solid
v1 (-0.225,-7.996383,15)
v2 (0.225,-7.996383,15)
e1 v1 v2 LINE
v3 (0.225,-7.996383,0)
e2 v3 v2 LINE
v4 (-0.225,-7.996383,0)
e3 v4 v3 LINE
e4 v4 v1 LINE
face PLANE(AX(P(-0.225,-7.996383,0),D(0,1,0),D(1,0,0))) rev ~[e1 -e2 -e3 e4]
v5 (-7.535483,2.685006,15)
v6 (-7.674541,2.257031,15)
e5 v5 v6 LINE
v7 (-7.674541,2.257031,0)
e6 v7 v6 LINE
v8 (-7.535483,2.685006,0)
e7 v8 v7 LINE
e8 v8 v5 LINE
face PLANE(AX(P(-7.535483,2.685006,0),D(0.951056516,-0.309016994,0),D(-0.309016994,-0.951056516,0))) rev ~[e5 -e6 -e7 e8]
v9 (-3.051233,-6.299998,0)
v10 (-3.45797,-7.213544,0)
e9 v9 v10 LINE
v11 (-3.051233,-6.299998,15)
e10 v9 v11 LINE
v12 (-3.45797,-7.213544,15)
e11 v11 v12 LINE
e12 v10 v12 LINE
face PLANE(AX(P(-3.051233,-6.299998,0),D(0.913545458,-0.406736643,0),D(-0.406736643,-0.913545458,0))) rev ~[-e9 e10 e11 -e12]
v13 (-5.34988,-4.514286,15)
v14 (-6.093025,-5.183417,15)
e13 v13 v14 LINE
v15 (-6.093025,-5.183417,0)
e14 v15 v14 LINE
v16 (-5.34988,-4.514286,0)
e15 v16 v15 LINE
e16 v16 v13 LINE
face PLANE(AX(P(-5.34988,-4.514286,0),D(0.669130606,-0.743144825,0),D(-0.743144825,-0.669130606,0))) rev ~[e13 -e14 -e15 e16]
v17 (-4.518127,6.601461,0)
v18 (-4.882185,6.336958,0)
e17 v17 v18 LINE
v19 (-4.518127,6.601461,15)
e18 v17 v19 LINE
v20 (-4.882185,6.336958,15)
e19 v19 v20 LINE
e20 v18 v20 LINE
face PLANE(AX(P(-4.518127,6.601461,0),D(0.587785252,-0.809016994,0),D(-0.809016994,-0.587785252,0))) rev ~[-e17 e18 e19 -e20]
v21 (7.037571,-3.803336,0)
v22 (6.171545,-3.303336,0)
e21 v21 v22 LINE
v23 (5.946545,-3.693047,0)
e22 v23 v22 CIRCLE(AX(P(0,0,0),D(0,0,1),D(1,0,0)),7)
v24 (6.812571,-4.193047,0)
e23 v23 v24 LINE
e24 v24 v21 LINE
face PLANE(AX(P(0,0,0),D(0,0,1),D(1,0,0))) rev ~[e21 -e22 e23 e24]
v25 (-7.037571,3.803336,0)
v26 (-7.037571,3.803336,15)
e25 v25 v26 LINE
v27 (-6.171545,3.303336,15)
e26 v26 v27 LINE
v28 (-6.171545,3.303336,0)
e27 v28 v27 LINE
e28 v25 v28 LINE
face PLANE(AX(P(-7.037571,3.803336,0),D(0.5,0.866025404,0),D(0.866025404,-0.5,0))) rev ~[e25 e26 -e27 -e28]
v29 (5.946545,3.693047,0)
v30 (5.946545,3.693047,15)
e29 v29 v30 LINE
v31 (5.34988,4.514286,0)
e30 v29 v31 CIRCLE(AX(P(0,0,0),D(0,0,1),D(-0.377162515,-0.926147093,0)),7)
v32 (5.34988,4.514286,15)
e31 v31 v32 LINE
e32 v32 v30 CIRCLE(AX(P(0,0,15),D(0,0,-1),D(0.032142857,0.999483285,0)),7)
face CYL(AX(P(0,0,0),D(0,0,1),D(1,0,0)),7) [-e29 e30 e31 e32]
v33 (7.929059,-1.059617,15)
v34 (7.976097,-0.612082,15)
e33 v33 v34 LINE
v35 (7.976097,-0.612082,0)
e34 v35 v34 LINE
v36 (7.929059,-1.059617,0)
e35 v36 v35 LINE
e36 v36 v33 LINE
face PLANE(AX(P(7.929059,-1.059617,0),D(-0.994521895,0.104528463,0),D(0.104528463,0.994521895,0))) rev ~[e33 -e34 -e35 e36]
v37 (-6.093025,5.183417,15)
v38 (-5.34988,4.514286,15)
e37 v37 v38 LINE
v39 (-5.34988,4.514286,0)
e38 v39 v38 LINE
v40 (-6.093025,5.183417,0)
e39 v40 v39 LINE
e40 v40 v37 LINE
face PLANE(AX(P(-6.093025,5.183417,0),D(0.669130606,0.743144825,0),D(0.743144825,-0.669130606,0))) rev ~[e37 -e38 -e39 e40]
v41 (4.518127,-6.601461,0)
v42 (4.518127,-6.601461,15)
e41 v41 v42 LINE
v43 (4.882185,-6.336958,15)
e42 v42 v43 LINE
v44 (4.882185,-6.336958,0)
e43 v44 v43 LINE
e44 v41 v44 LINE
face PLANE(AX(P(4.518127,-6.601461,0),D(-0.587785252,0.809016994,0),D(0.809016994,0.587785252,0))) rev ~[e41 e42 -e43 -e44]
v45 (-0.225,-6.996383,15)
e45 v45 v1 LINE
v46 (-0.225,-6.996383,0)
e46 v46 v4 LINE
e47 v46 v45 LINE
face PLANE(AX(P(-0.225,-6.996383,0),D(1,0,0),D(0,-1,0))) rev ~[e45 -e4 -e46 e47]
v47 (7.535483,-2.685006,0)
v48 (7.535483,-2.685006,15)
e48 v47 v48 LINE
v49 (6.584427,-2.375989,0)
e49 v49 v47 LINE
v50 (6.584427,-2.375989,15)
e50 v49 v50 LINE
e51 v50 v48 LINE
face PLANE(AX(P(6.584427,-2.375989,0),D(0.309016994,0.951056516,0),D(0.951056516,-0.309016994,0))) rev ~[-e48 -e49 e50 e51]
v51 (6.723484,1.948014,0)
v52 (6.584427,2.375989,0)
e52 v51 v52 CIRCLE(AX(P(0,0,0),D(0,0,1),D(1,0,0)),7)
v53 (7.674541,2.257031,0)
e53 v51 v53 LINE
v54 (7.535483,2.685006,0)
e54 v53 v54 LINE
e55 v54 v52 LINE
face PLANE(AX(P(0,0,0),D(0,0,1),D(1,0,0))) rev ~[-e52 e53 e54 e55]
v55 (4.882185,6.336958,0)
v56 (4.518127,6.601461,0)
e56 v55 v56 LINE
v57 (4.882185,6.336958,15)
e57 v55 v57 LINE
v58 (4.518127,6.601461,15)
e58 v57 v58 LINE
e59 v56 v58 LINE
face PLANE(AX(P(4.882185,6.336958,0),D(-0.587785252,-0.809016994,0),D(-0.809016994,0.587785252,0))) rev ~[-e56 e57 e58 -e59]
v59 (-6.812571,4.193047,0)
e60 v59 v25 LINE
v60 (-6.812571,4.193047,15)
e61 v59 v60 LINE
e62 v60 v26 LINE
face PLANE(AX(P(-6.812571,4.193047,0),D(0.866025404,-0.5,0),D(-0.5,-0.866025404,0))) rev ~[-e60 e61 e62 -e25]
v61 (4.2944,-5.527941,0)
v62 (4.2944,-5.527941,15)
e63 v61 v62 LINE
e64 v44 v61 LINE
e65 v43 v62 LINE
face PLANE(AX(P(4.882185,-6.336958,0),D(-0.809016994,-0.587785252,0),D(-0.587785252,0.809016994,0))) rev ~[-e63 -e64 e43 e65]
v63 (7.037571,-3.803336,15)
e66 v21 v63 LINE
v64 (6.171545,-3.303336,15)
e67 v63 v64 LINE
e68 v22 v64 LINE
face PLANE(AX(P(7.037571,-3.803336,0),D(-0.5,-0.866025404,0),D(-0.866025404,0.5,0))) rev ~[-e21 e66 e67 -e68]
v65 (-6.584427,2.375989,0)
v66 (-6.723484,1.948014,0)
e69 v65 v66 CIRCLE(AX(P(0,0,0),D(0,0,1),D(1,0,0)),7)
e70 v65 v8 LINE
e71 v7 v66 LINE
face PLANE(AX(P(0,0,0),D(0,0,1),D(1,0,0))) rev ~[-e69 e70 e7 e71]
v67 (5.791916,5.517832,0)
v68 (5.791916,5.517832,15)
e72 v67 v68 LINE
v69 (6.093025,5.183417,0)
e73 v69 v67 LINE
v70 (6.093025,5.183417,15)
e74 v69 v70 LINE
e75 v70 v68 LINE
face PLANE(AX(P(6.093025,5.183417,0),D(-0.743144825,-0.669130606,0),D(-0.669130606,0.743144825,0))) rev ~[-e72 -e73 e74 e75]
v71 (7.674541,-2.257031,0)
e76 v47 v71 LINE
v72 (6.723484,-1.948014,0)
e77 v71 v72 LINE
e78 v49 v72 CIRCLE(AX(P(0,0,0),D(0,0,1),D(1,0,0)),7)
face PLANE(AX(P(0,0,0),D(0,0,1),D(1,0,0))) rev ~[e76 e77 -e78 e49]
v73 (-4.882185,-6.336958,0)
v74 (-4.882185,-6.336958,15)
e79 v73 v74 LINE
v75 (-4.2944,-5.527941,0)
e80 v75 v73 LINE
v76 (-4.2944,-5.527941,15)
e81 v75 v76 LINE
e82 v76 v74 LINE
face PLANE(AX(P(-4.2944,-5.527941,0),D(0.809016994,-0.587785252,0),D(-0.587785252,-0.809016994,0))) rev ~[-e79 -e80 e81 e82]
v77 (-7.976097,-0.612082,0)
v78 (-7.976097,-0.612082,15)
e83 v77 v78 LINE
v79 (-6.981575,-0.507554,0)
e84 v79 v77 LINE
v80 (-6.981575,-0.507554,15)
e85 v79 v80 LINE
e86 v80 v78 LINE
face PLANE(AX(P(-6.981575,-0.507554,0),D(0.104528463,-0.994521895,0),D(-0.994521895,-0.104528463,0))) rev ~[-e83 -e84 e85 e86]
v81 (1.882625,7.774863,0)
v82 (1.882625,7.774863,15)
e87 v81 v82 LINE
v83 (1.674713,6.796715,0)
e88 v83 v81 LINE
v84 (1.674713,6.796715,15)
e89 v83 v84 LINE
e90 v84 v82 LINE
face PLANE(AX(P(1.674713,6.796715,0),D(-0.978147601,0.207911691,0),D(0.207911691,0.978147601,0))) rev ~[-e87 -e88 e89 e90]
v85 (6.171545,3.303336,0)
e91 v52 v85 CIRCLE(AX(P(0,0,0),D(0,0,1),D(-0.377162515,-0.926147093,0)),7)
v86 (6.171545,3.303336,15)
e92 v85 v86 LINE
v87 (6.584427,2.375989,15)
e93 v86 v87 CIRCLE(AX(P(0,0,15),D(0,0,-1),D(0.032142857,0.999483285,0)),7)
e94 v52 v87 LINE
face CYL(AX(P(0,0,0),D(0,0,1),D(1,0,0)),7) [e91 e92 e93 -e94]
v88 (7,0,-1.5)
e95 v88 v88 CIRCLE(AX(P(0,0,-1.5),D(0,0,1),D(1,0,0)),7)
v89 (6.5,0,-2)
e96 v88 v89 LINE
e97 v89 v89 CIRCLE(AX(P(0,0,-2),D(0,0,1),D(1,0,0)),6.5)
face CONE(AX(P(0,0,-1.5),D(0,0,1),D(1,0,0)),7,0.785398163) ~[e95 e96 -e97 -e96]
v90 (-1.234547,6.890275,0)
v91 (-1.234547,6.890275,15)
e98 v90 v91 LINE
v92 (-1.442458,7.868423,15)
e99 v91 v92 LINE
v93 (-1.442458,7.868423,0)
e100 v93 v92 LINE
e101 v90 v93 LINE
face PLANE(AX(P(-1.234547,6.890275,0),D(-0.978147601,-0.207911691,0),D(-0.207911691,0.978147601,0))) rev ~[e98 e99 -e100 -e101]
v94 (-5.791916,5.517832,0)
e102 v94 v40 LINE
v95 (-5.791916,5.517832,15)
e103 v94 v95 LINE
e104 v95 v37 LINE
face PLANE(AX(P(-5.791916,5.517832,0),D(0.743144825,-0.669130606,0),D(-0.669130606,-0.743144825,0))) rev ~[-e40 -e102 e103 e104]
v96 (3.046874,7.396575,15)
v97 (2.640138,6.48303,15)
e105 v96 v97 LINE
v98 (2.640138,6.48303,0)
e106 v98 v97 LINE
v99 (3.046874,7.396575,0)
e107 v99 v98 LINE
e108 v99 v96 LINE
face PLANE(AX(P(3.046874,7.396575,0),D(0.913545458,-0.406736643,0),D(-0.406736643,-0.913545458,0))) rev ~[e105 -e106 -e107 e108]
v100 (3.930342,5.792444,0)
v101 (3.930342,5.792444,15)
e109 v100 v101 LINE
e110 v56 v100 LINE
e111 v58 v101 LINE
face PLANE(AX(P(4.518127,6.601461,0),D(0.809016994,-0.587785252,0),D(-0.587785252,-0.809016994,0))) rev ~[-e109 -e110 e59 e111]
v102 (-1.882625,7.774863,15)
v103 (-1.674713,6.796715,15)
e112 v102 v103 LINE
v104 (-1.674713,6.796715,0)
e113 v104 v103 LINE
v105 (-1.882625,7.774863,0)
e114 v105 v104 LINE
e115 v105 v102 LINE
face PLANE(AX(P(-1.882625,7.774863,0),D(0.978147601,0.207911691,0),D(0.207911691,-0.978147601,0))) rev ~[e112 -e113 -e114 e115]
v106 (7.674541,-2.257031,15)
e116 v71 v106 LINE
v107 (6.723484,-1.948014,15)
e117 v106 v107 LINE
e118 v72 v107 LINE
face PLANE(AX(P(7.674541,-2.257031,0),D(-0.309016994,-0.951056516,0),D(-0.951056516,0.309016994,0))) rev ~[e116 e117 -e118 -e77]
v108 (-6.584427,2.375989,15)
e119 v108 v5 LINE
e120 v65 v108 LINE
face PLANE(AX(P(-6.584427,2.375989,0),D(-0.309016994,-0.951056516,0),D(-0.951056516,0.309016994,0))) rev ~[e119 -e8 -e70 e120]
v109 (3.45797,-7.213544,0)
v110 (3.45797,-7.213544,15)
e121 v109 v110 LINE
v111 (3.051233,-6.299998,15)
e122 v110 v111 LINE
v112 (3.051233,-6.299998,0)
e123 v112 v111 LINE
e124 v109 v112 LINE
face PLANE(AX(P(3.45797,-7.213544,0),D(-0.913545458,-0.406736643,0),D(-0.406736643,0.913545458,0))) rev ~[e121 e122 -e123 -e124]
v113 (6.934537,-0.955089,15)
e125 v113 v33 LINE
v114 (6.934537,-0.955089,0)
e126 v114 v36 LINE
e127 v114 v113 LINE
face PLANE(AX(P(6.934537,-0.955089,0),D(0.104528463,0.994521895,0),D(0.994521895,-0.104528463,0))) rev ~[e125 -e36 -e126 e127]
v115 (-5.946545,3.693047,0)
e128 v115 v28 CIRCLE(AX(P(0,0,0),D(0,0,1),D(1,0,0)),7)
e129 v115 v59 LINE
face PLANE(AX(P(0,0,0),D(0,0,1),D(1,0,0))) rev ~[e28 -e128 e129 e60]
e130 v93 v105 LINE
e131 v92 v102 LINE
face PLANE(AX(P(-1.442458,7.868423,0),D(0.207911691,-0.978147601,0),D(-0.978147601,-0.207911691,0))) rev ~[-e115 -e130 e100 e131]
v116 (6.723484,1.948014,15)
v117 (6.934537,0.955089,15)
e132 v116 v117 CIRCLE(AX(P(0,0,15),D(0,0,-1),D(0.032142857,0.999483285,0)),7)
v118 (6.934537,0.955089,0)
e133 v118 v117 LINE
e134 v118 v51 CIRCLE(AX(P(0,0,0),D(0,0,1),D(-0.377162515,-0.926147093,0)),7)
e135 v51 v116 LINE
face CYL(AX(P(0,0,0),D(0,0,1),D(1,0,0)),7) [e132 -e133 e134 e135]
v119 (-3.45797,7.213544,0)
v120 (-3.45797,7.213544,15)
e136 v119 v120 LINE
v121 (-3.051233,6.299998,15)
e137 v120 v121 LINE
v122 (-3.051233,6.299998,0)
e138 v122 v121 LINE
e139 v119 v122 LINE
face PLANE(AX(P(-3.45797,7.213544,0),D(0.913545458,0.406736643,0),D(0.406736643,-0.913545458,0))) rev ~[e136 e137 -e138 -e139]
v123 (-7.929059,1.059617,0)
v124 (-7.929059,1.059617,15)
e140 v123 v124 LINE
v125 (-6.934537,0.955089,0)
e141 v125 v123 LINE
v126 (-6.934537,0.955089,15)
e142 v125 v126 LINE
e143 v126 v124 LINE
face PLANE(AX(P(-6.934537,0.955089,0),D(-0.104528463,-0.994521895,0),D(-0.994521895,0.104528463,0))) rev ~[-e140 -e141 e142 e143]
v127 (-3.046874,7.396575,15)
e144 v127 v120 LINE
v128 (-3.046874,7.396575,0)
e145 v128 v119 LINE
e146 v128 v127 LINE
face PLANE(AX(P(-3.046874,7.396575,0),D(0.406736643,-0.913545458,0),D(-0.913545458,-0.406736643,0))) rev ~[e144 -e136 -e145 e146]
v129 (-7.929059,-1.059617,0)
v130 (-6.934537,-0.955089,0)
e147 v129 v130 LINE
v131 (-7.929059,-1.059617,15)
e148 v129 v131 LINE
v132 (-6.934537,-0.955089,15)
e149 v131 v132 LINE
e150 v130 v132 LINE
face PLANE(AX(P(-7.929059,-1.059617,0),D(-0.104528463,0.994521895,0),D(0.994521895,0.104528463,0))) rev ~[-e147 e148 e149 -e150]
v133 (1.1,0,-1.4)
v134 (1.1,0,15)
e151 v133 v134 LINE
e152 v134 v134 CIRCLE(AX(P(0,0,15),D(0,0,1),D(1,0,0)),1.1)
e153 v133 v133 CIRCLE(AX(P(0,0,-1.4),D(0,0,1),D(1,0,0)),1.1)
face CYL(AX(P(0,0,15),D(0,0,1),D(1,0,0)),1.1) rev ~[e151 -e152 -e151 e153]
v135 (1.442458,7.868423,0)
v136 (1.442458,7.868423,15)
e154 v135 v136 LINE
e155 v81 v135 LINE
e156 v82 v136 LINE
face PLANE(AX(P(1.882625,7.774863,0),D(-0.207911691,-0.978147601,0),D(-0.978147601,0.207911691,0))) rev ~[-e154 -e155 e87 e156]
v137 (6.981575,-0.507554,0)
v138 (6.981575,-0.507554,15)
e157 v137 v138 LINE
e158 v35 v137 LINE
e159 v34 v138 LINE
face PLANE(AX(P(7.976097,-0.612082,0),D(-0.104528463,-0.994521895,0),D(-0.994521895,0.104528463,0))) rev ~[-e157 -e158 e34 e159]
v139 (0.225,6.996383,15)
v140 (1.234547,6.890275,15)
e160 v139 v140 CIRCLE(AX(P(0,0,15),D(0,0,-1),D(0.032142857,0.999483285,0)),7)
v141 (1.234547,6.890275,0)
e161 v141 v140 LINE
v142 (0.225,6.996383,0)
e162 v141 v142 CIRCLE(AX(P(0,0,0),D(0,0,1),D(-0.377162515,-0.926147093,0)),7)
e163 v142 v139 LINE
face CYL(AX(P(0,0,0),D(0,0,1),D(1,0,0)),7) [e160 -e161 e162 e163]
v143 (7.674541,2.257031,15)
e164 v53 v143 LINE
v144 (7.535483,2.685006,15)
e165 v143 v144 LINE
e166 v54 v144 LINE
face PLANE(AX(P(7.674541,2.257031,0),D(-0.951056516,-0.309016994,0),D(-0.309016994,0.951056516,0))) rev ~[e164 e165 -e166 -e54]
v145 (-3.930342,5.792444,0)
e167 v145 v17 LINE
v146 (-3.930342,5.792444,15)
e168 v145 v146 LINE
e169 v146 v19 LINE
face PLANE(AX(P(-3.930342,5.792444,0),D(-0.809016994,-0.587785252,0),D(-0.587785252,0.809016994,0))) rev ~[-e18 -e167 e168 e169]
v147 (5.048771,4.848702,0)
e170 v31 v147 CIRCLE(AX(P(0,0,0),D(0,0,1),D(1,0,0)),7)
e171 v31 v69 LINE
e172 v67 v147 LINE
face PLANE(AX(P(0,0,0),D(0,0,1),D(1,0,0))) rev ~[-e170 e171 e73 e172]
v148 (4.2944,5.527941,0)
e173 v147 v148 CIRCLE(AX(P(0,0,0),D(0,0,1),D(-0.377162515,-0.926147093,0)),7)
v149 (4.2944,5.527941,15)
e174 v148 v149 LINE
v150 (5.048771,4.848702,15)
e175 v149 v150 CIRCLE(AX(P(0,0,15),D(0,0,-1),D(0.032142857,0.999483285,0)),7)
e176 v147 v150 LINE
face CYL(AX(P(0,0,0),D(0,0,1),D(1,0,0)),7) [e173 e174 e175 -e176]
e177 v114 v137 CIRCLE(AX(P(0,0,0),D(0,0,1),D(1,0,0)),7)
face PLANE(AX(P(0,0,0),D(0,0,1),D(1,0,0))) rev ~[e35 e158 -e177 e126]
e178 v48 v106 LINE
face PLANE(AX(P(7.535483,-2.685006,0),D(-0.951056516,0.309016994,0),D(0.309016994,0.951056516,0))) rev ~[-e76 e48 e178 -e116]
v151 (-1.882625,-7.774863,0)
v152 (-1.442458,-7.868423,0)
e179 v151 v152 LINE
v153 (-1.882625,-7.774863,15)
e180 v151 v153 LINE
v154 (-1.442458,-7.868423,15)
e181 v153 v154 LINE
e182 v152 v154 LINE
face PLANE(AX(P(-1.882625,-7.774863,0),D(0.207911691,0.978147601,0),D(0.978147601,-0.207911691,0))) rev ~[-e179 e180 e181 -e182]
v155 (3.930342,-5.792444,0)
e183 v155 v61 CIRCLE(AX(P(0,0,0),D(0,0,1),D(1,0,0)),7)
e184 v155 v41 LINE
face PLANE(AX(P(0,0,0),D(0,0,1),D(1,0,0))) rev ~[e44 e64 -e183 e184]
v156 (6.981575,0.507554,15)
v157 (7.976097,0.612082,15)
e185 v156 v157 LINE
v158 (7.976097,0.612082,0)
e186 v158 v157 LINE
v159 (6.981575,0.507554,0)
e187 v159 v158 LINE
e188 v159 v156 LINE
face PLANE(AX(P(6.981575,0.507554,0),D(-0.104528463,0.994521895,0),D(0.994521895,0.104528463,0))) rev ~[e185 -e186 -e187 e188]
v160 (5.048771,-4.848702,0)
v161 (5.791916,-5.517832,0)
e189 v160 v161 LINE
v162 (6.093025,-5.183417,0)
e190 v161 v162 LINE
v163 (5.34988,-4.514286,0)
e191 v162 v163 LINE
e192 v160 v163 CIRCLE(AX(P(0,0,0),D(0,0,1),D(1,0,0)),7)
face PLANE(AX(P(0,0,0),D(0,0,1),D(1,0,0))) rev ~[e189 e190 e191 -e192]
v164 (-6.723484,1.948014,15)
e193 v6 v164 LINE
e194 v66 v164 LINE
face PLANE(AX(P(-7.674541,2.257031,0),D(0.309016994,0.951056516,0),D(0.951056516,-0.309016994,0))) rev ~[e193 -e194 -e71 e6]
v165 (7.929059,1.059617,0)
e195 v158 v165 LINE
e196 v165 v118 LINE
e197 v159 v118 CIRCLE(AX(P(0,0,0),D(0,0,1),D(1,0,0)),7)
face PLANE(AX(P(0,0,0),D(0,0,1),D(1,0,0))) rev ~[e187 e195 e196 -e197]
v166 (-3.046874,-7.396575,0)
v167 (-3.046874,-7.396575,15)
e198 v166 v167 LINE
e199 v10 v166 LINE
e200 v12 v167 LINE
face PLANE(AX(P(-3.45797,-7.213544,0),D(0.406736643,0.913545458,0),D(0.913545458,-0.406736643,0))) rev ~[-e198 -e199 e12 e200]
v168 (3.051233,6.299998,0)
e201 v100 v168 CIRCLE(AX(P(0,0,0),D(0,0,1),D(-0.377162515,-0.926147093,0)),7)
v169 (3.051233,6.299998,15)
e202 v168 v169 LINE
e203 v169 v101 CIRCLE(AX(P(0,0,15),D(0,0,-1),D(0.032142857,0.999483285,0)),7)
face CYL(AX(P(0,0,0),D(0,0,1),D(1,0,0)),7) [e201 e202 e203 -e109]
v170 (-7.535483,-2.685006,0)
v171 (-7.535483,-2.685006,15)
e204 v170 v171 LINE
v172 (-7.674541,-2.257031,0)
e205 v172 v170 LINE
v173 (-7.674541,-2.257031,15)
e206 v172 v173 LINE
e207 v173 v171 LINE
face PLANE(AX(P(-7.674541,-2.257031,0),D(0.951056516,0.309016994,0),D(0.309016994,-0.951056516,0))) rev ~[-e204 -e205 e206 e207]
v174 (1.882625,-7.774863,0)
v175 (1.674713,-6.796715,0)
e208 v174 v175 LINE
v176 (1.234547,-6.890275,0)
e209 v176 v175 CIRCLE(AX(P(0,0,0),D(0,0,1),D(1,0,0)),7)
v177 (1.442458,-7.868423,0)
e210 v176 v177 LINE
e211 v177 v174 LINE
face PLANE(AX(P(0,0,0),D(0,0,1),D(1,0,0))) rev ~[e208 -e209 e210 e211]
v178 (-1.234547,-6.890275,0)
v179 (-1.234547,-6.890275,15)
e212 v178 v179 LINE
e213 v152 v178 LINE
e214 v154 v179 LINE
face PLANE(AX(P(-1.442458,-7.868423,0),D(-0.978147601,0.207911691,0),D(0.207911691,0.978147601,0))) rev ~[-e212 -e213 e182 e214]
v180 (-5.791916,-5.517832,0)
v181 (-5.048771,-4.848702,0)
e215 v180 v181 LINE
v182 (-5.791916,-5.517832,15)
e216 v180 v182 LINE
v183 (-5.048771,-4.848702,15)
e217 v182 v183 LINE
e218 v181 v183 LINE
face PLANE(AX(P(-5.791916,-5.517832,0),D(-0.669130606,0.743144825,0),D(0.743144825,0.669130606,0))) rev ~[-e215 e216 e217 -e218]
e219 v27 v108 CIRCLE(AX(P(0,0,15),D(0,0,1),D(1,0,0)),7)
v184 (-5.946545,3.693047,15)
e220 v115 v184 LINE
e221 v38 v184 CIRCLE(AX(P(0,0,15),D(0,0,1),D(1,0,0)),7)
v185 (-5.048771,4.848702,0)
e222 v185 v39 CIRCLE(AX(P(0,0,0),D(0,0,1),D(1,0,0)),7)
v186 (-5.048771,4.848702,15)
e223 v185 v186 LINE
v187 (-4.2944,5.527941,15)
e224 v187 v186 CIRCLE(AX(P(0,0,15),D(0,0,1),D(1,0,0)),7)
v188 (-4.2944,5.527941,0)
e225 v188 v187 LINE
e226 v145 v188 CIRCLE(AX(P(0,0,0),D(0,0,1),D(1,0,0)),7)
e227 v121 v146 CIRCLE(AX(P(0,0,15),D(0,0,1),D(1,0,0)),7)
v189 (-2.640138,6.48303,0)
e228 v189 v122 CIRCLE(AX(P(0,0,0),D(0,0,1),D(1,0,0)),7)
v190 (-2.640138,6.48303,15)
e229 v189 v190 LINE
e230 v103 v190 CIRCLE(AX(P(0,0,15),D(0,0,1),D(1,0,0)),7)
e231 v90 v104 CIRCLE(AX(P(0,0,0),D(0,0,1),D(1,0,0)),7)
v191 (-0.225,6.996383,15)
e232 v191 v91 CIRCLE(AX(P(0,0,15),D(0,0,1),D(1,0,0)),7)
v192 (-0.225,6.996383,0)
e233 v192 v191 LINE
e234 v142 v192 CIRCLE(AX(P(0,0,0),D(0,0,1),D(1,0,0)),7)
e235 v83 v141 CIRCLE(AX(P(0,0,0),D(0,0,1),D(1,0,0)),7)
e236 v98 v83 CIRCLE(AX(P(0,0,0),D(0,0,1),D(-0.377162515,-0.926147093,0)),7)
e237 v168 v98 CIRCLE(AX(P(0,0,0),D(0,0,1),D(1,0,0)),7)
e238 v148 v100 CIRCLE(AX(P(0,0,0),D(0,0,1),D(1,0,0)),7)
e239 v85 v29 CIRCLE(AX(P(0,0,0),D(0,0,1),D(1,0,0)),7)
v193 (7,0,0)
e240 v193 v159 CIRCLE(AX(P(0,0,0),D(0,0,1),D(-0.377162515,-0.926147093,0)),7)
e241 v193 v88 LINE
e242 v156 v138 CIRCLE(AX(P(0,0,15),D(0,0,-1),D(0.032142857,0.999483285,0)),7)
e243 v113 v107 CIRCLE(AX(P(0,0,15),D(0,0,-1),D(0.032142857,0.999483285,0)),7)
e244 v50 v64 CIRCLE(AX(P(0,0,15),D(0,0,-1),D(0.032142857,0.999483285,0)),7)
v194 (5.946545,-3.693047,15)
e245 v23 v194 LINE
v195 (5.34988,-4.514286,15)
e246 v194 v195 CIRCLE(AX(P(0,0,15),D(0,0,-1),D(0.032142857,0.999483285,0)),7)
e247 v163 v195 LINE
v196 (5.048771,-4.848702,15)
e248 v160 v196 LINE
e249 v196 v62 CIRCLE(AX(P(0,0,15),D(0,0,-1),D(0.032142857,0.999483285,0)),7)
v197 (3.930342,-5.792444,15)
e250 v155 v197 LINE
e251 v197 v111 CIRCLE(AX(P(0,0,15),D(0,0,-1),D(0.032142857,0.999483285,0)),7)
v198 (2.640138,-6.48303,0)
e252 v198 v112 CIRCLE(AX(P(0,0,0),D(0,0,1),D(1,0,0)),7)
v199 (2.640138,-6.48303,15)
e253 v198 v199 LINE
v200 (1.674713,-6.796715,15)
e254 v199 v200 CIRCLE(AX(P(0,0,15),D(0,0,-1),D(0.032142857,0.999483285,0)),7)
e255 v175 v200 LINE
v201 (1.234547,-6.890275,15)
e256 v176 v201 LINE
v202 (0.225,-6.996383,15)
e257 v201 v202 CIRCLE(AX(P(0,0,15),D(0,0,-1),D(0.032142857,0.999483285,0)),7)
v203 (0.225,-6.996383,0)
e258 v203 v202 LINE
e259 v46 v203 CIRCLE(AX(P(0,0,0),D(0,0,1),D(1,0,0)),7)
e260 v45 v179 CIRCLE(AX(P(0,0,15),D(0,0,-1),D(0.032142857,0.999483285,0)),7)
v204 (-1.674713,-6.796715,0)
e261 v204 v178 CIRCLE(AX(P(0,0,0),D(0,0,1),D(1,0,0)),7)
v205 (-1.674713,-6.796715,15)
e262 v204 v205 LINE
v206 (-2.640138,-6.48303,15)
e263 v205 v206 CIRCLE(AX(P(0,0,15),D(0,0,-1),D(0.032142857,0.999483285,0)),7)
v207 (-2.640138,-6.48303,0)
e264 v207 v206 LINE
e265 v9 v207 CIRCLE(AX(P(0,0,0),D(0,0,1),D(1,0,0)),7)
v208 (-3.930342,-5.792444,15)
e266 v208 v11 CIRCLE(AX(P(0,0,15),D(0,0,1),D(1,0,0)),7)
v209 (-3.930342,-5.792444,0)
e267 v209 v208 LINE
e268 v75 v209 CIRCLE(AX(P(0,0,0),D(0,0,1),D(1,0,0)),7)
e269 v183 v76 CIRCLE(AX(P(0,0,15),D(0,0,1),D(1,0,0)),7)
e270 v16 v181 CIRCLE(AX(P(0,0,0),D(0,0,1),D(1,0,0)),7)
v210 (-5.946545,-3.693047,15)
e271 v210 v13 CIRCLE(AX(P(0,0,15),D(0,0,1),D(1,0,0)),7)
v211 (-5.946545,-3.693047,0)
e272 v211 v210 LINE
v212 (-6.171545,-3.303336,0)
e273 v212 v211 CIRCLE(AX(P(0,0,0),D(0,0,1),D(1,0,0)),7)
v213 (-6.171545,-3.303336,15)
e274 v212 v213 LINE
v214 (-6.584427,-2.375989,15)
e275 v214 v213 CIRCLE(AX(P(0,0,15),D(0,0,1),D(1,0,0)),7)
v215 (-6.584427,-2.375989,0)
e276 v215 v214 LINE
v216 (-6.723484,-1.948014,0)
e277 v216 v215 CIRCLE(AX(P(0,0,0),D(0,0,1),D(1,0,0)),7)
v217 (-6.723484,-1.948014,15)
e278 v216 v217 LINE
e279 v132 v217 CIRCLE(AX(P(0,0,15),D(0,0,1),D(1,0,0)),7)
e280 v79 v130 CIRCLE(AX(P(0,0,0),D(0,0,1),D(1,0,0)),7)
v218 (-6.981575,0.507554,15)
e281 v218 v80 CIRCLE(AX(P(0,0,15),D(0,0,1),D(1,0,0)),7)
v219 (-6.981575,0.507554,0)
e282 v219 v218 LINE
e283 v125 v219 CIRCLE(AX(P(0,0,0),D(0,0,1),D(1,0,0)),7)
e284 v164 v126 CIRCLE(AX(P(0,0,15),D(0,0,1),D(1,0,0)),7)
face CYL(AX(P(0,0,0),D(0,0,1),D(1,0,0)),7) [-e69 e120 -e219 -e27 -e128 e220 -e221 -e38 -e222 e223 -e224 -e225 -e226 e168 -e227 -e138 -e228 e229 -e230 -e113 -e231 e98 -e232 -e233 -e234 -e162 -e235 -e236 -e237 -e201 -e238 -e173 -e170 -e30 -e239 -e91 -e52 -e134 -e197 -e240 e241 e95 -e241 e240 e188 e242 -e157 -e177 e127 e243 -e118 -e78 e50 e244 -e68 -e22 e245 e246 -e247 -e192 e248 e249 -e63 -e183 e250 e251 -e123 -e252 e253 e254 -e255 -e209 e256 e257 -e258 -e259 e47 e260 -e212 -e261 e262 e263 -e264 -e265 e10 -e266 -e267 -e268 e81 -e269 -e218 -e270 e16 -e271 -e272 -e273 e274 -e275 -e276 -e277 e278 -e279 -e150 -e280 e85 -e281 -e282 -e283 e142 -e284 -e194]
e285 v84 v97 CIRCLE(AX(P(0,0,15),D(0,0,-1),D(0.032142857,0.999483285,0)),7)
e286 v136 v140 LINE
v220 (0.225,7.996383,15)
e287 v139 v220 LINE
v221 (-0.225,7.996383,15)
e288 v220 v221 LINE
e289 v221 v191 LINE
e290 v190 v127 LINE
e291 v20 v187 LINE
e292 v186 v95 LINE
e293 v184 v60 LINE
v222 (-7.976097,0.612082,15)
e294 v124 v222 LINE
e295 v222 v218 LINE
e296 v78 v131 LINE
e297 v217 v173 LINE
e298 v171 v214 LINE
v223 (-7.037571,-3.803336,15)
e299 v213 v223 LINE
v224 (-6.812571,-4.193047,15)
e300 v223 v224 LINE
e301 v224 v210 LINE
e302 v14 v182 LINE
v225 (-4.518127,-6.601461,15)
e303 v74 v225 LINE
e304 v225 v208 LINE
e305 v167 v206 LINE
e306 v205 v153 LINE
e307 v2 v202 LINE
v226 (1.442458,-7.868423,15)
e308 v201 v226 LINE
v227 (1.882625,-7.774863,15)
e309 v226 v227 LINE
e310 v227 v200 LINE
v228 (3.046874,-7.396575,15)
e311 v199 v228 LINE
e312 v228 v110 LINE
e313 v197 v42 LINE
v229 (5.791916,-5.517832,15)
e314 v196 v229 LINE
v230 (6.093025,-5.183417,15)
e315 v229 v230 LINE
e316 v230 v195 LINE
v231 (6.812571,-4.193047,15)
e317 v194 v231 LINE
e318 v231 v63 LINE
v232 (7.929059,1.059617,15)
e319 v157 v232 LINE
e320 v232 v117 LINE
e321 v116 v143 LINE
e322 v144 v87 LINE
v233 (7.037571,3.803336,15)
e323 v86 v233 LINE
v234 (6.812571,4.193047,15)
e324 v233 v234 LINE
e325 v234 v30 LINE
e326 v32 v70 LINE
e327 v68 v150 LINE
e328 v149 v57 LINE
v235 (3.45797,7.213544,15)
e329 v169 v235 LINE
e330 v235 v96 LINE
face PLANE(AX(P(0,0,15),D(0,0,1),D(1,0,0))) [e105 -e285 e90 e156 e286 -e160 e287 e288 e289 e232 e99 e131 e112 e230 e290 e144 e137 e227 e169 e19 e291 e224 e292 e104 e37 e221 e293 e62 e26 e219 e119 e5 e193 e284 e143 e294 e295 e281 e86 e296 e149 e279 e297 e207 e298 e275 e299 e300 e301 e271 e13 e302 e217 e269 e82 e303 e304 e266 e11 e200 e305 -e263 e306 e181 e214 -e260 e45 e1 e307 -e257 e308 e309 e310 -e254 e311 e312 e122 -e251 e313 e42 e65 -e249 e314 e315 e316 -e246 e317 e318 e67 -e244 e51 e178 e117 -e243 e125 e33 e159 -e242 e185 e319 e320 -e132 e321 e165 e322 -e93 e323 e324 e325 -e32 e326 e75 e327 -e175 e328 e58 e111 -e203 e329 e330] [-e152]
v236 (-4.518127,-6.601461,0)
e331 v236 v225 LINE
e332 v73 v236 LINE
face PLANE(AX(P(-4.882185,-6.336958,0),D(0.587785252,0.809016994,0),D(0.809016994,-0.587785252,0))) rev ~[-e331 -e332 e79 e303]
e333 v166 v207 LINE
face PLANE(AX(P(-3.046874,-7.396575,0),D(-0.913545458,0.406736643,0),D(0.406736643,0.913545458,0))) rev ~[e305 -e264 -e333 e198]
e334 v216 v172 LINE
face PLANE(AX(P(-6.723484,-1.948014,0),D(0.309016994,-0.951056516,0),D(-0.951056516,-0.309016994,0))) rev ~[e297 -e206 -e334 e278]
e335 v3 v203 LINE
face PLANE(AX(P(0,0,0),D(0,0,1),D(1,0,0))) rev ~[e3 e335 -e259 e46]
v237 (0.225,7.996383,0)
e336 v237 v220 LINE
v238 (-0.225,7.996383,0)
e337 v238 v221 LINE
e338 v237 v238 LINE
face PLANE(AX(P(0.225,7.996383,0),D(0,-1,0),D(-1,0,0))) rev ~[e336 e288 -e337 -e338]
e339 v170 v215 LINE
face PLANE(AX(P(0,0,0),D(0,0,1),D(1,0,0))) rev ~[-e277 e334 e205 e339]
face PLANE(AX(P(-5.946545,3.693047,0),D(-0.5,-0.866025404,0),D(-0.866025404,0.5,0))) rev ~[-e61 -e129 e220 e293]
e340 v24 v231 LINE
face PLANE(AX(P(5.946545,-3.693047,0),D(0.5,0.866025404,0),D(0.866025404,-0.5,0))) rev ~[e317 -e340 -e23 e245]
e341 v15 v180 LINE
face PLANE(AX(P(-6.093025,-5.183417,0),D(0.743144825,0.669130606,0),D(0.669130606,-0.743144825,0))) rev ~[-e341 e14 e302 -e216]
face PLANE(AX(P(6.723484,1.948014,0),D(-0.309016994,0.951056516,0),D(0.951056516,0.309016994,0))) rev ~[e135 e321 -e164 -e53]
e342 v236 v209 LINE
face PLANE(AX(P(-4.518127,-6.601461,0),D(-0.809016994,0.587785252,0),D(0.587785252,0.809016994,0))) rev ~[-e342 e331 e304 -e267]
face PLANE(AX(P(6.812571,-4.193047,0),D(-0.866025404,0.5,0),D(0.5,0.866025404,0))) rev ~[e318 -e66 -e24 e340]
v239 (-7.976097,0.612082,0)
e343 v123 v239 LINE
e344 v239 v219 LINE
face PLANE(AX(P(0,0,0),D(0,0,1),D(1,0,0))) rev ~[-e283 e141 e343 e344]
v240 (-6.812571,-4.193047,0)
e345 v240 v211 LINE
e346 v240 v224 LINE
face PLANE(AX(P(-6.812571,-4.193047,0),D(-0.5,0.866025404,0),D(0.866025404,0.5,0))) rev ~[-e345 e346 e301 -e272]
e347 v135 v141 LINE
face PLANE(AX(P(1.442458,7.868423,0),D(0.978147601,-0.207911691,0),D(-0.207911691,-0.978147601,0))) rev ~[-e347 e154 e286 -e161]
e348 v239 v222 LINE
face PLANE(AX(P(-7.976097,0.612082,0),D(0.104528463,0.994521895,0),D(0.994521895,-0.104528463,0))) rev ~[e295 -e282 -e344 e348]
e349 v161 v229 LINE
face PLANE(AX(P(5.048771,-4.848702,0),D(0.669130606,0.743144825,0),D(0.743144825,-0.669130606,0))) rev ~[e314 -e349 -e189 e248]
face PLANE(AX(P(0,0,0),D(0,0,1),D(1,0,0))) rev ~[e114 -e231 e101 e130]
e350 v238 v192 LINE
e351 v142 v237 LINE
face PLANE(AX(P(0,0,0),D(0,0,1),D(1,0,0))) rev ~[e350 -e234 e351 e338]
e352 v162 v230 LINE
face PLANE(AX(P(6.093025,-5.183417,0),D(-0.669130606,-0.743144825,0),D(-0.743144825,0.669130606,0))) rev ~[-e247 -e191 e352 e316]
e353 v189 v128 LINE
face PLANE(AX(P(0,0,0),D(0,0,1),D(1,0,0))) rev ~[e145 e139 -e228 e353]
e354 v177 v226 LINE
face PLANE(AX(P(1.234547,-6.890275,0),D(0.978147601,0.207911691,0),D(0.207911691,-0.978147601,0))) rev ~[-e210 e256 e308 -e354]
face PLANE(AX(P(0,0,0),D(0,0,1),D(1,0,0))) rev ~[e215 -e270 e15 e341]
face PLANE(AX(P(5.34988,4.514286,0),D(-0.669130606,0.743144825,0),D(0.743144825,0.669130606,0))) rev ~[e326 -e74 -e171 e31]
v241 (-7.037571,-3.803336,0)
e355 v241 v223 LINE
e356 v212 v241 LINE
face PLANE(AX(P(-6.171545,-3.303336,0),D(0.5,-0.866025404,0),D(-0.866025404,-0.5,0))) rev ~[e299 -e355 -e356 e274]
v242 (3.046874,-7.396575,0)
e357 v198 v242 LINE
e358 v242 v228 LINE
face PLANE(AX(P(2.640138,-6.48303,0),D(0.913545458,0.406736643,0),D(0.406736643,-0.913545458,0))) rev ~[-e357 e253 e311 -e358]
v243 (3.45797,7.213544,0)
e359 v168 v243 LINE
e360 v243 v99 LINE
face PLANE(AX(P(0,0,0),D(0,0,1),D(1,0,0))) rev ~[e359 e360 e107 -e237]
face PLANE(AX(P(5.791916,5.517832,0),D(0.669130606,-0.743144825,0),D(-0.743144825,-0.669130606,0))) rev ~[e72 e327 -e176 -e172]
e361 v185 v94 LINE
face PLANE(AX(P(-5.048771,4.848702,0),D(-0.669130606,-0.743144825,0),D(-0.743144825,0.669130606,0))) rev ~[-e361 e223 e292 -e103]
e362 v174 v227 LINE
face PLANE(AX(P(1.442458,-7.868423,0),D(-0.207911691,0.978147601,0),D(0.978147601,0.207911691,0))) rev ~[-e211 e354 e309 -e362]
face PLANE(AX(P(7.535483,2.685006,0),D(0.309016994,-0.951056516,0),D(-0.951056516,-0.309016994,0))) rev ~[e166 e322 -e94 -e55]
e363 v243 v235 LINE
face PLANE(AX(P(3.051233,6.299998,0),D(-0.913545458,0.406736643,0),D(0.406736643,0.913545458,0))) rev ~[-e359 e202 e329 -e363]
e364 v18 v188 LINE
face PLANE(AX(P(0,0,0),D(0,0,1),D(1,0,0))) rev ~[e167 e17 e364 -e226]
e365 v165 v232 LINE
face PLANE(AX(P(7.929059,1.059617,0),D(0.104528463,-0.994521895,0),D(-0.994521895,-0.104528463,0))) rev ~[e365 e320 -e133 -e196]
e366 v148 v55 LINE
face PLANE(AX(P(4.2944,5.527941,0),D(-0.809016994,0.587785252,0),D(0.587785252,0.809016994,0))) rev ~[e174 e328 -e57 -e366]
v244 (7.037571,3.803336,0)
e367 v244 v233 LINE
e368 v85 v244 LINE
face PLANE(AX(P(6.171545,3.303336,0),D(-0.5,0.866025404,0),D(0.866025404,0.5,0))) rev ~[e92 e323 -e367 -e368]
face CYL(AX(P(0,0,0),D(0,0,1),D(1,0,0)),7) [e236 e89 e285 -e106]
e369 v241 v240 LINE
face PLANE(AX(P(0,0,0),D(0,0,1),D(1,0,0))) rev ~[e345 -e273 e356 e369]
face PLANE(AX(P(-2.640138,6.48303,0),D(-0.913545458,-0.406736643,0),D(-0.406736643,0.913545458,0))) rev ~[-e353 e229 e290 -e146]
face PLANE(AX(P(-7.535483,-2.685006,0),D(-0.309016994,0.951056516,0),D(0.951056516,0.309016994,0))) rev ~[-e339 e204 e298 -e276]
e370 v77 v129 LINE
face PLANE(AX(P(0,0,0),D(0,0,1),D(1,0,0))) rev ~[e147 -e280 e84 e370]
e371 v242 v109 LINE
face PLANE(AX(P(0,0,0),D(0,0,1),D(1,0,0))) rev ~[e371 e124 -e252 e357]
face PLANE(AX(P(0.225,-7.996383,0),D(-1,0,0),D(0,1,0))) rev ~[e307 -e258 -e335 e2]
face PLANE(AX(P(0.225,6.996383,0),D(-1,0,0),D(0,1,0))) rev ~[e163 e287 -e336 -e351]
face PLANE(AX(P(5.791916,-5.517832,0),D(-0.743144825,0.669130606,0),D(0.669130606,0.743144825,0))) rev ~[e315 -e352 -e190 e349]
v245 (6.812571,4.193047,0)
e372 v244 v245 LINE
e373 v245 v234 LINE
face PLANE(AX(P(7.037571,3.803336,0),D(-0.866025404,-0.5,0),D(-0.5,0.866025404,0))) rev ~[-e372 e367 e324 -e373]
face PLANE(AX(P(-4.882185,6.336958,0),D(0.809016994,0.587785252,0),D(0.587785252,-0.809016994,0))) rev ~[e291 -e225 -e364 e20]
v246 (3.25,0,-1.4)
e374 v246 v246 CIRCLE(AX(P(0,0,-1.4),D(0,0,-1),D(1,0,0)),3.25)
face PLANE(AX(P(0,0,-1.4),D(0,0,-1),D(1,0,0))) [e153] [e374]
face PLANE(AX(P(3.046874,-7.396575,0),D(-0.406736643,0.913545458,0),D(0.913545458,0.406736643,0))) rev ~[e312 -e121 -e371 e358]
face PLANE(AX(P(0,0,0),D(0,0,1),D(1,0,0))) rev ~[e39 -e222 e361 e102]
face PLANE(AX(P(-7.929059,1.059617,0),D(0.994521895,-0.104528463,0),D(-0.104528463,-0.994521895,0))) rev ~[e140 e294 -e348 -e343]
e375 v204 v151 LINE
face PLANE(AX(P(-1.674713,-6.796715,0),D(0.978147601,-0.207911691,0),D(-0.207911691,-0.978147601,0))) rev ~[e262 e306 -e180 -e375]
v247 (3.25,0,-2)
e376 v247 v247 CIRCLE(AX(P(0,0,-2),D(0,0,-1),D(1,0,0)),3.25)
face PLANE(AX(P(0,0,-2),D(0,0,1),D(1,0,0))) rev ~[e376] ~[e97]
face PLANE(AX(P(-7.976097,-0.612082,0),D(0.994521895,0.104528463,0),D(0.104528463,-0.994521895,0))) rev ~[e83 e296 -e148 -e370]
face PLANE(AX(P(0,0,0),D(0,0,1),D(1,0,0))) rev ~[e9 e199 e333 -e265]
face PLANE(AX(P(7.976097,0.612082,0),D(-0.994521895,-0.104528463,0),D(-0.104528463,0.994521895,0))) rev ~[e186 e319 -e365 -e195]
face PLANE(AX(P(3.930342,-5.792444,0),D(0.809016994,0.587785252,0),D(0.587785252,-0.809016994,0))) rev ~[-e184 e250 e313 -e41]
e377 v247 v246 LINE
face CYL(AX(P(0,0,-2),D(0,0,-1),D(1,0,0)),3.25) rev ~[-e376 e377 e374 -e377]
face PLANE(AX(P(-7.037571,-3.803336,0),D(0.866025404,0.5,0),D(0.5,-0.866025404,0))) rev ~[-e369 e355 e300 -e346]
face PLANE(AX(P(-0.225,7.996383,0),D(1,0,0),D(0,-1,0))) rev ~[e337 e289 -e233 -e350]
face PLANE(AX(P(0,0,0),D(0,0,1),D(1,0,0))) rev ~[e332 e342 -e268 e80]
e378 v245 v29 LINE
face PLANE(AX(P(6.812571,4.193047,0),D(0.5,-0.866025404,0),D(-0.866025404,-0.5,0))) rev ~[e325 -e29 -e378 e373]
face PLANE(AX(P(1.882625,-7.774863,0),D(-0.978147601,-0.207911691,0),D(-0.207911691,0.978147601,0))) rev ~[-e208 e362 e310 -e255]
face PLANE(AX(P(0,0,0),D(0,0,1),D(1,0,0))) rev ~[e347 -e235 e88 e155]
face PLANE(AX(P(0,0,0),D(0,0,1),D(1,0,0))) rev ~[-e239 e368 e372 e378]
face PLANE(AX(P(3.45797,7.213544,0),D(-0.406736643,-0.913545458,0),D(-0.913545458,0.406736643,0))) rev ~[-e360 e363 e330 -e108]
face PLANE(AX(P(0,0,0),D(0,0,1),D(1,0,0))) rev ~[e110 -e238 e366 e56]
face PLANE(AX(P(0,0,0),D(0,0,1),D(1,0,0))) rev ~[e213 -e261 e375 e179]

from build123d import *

# Parameters (mm, degrees)
F0_R      = 7
F1_DEPTH  = 15
F3_DEPTH  = 15
F4_COUNT  = 30
F6_R      = 7
F7_DEPTH  = 2
F8_SIZE   = 0.5
F9_R      = 3.25
F10_DEPTH = 0.6
F12_R     = 1.1
F13_DEPTH = 25


with BuildPart() as f1:
    # F0 (on Top) → F1 (new body)
    with BuildSketch(Plane.XY):
        Circle(F0_R)
    extrude(amount=F1_DEPTH)


with BuildPart() as f3:
    # F2 (on Top) → F3 (new body)
    with BuildSketch(Plane.XY):
        with BuildLine():
            ThreePointArc((-0.225, 6.996383), (0, 7), (0.225, 6.996383))
            Line((0.225, 6.996383), (0.225, 7.996383))
            Line((0.225, 7.996383), (-0.225, 7.996383))
            Line((-0.225, 7.996383), (-0.225, 6.996383))
        make_face()
    extrude(amount=F3_DEPTH)


with BuildPart() as f4_1:
    # F4: instance of F3
    add(f3.part.rotate(Axis((0, 0, 15), (0, 0, 1)), 1 * 360 / F4_COUNT))


with BuildPart() as f4_2:
    # F4: instance of F3
    add(f3.part.rotate(Axis((0, 0, 15), (0, 0, 1)), 2 * 360 / F4_COUNT))


with BuildPart() as f4_3:
    # F4: instance of F3
    add(f3.part.rotate(Axis((0, 0, 15), (0, 0, 1)), 3 * 360 / F4_COUNT))


with BuildPart() as f4_4:
    # F4: instance of F3
    add(f3.part.rotate(Axis((0, 0, 15), (0, 0, 1)), 4 * 360 / F4_COUNT))


with BuildPart() as f4_5:
    # F4: instance of F3
    add(f3.part.rotate(Axis((0, 0, 15), (0, 0, 1)), 5 * 360 / F4_COUNT))


with BuildPart() as f4_6:
    # F4: instance of F3
    add(f3.part.rotate(Axis((0, 0, 15), (0, 0, 1)), 6 * 360 / F4_COUNT))


with BuildPart() as f4_7:
    # F4: instance of F3
    add(f3.part.rotate(Axis((0, 0, 15), (0, 0, 1)), 7 * 360 / F4_COUNT))


with BuildPart() as f4_8:
    # F4: instance of F3
    add(f3.part.rotate(Axis((0, 0, 15), (0, 0, 1)), 8 * 360 / F4_COUNT))


with BuildPart() as f4_9:
    # F4: instance of F3
    add(f3.part.rotate(Axis((0, 0, 15), (0, 0, 1)), 9 * 360 / F4_COUNT))


with BuildPart() as f4_10:
    # F4: instance of F3
    add(f3.part.rotate(Axis((0, 0, 15), (0, 0, 1)), 10 * 360 / F4_COUNT))


with BuildPart() as f4_11:
    # F4: instance of F3
    add(f3.part.rotate(Axis((0, 0, 15), (0, 0, 1)), 11 * 360 / F4_COUNT))


with BuildPart() as f4_12:
    # F4: instance of F3
    add(f3.part.rotate(Axis((0, 0, 15), (0, 0, 1)), 12 * 360 / F4_COUNT))


with BuildPart() as f4_13:
    # F4: instance of F3
    add(f3.part.rotate(Axis((0, 0, 15), (0, 0, 1)), 13 * 360 / F4_COUNT))


with BuildPart() as f4_14:
    # F4: instance of F3
    add(f3.part.rotate(Axis((0, 0, 15), (0, 0, 1)), 14 * 360 / F4_COUNT))


with BuildPart() as f4_15:
    # F4: instance of F3
    add(f3.part.rotate(Axis((0, 0, 15), (0, 0, 1)), 15 * 360 / F4_COUNT))


with BuildPart() as f4_16:
    # F4: instance of F3
    add(f3.part.rotate(Axis((0, 0, 15), (0, 0, 1)), 16 * 360 / F4_COUNT))


with BuildPart() as f4_17:
    # F4: instance of F3
    add(f3.part.rotate(Axis((0, 0, 15), (0, 0, 1)), 17 * 360 / F4_COUNT))


with BuildPart() as f4_18:
    # F4: instance of F3
    add(f3.part.rotate(Axis((0, 0, 15), (0, 0, 1)), 18 * 360 / F4_COUNT))


with BuildPart() as f4_19:
    # F4: instance of F3
    add(f3.part.rotate(Axis((0, 0, 15), (0, 0, 1)), 19 * 360 / F4_COUNT))


with BuildPart() as f4_20:
    # F4: instance of F3
    add(f3.part.rotate(Axis((0, 0, 15), (0, 0, 1)), 20 * 360 / F4_COUNT))


with BuildPart() as f4_21:
    # F4: instance of F3
    add(f3.part.rotate(Axis((0, 0, 15), (0, 0, 1)), 21 * 360 / F4_COUNT))


with BuildPart() as f4_22:
    # F4: instance of F3
    add(f3.part.rotate(Axis((0, 0, 15), (0, 0, 1)), 22 * 360 / F4_COUNT))


with BuildPart() as f4_23:
    # F4: instance of F3
    add(f3.part.rotate(Axis((0, 0, 15), (0, 0, 1)), 23 * 360 / F4_COUNT))


with BuildPart() as f4_24:
    # F4: instance of F3
    add(f3.part.rotate(Axis((0, 0, 15), (0, 0, 1)), 24 * 360 / F4_COUNT))


with BuildPart() as f4_25:
    # F4: instance of F3
    add(f3.part.rotate(Axis((0, 0, 15), (0, 0, 1)), 25 * 360 / F4_COUNT))


with BuildPart() as f4_26:
    # F4: instance of F3
    add(f3.part.rotate(Axis((0, 0, 15), (0, 0, 1)), 26 * 360 / F4_COUNT))


with BuildPart() as f4_27:
    # F4: instance of F3
    add(f3.part.rotate(Axis((0, 0, 15), (0, 0, 1)), 27 * 360 / F4_COUNT))


with BuildPart() as f4_28:
    # F4: instance of F3
    add(f3.part.rotate(Axis((0, 0, 15), (0, 0, 1)), 28 * 360 / F4_COUNT))


with BuildPart() as f4_29:
    # F4: instance of F3
    add(f3.part.rotate(Axis((0, 0, 15), (0, 0, 1)), 29 * 360 / F4_COUNT))


with BuildPart() as f4_4_1:
    add(f4_4.part)

    # F5: union F4_2, F4_11, F4_1, F4_3, F4_6, F3, F4_13, F4_8, F4_7, F4_5, F4_9, F1, F4_10, F4_14, F4_12, F4_18, F4_17, F4_16, F4_15, F4_19, F4_20, F4_21, F4_22, F4_23, F4_24, F4_25, F4_26, F4_27, F4_28, F4_29
    add(f4_2.part)
    add(f4_11.part)
    add(f4_1.part)
    add(f4_3.part)
    add(f4_6.part)
    add(f3.part)
    add(f4_13.part)
    add(f4_8.part)
    add(f4_7.part)
    add(f4_5.part)
    add(f4_9.part)
    add(f1.part)
    add(f4_10.part)
    add(f4_14.part)
    add(f4_12.part)
    add(f4_18.part)
    add(f4_17.part)
    add(f4_16.part)
    add(f4_15.part)
    add(f4_19.part)
    add(f4_20.part)
    add(f4_21.part)
    add(f4_22.part)
    add(f4_23.part)
    add(f4_24.part)
    add(f4_25.part)
    add(f4_26.part)
    add(f4_27.part)
    add(f4_28.part)
    add(f4_29.part)

    # F6 (on Top) → F7 (join)
    with BuildSketch(Plane.XY):
        Circle(F6_R)
    extrude(amount=-F7_DEPTH)

    # F8
    f8_edges = [f4_4_1.edges().sort_by_distance(p)[0] for p in [
        (-7, 0, -2),
    ]]
    chamfer(f8_edges, length=F8_SIZE)

    # F9 (on face) → F10 (cut)
    with BuildSketch(Plane(origin=(0, 0, -2), x_dir=(1, 0, 0), z_dir=(0, 0, -1))):
        Circle(F9_R)
    extrude(amount=-F10_DEPTH, mode=Mode.SUBTRACT)

    # F12 (on face) → F13 (cut, symmetric)
    with BuildSketch(Plane.XY.offset(15)):
        Circle(F12_R)
    extrude(amount=F13_DEPTH, both=True, mode=Mode.SUBTRACT)


solid = f4_4_1.part
